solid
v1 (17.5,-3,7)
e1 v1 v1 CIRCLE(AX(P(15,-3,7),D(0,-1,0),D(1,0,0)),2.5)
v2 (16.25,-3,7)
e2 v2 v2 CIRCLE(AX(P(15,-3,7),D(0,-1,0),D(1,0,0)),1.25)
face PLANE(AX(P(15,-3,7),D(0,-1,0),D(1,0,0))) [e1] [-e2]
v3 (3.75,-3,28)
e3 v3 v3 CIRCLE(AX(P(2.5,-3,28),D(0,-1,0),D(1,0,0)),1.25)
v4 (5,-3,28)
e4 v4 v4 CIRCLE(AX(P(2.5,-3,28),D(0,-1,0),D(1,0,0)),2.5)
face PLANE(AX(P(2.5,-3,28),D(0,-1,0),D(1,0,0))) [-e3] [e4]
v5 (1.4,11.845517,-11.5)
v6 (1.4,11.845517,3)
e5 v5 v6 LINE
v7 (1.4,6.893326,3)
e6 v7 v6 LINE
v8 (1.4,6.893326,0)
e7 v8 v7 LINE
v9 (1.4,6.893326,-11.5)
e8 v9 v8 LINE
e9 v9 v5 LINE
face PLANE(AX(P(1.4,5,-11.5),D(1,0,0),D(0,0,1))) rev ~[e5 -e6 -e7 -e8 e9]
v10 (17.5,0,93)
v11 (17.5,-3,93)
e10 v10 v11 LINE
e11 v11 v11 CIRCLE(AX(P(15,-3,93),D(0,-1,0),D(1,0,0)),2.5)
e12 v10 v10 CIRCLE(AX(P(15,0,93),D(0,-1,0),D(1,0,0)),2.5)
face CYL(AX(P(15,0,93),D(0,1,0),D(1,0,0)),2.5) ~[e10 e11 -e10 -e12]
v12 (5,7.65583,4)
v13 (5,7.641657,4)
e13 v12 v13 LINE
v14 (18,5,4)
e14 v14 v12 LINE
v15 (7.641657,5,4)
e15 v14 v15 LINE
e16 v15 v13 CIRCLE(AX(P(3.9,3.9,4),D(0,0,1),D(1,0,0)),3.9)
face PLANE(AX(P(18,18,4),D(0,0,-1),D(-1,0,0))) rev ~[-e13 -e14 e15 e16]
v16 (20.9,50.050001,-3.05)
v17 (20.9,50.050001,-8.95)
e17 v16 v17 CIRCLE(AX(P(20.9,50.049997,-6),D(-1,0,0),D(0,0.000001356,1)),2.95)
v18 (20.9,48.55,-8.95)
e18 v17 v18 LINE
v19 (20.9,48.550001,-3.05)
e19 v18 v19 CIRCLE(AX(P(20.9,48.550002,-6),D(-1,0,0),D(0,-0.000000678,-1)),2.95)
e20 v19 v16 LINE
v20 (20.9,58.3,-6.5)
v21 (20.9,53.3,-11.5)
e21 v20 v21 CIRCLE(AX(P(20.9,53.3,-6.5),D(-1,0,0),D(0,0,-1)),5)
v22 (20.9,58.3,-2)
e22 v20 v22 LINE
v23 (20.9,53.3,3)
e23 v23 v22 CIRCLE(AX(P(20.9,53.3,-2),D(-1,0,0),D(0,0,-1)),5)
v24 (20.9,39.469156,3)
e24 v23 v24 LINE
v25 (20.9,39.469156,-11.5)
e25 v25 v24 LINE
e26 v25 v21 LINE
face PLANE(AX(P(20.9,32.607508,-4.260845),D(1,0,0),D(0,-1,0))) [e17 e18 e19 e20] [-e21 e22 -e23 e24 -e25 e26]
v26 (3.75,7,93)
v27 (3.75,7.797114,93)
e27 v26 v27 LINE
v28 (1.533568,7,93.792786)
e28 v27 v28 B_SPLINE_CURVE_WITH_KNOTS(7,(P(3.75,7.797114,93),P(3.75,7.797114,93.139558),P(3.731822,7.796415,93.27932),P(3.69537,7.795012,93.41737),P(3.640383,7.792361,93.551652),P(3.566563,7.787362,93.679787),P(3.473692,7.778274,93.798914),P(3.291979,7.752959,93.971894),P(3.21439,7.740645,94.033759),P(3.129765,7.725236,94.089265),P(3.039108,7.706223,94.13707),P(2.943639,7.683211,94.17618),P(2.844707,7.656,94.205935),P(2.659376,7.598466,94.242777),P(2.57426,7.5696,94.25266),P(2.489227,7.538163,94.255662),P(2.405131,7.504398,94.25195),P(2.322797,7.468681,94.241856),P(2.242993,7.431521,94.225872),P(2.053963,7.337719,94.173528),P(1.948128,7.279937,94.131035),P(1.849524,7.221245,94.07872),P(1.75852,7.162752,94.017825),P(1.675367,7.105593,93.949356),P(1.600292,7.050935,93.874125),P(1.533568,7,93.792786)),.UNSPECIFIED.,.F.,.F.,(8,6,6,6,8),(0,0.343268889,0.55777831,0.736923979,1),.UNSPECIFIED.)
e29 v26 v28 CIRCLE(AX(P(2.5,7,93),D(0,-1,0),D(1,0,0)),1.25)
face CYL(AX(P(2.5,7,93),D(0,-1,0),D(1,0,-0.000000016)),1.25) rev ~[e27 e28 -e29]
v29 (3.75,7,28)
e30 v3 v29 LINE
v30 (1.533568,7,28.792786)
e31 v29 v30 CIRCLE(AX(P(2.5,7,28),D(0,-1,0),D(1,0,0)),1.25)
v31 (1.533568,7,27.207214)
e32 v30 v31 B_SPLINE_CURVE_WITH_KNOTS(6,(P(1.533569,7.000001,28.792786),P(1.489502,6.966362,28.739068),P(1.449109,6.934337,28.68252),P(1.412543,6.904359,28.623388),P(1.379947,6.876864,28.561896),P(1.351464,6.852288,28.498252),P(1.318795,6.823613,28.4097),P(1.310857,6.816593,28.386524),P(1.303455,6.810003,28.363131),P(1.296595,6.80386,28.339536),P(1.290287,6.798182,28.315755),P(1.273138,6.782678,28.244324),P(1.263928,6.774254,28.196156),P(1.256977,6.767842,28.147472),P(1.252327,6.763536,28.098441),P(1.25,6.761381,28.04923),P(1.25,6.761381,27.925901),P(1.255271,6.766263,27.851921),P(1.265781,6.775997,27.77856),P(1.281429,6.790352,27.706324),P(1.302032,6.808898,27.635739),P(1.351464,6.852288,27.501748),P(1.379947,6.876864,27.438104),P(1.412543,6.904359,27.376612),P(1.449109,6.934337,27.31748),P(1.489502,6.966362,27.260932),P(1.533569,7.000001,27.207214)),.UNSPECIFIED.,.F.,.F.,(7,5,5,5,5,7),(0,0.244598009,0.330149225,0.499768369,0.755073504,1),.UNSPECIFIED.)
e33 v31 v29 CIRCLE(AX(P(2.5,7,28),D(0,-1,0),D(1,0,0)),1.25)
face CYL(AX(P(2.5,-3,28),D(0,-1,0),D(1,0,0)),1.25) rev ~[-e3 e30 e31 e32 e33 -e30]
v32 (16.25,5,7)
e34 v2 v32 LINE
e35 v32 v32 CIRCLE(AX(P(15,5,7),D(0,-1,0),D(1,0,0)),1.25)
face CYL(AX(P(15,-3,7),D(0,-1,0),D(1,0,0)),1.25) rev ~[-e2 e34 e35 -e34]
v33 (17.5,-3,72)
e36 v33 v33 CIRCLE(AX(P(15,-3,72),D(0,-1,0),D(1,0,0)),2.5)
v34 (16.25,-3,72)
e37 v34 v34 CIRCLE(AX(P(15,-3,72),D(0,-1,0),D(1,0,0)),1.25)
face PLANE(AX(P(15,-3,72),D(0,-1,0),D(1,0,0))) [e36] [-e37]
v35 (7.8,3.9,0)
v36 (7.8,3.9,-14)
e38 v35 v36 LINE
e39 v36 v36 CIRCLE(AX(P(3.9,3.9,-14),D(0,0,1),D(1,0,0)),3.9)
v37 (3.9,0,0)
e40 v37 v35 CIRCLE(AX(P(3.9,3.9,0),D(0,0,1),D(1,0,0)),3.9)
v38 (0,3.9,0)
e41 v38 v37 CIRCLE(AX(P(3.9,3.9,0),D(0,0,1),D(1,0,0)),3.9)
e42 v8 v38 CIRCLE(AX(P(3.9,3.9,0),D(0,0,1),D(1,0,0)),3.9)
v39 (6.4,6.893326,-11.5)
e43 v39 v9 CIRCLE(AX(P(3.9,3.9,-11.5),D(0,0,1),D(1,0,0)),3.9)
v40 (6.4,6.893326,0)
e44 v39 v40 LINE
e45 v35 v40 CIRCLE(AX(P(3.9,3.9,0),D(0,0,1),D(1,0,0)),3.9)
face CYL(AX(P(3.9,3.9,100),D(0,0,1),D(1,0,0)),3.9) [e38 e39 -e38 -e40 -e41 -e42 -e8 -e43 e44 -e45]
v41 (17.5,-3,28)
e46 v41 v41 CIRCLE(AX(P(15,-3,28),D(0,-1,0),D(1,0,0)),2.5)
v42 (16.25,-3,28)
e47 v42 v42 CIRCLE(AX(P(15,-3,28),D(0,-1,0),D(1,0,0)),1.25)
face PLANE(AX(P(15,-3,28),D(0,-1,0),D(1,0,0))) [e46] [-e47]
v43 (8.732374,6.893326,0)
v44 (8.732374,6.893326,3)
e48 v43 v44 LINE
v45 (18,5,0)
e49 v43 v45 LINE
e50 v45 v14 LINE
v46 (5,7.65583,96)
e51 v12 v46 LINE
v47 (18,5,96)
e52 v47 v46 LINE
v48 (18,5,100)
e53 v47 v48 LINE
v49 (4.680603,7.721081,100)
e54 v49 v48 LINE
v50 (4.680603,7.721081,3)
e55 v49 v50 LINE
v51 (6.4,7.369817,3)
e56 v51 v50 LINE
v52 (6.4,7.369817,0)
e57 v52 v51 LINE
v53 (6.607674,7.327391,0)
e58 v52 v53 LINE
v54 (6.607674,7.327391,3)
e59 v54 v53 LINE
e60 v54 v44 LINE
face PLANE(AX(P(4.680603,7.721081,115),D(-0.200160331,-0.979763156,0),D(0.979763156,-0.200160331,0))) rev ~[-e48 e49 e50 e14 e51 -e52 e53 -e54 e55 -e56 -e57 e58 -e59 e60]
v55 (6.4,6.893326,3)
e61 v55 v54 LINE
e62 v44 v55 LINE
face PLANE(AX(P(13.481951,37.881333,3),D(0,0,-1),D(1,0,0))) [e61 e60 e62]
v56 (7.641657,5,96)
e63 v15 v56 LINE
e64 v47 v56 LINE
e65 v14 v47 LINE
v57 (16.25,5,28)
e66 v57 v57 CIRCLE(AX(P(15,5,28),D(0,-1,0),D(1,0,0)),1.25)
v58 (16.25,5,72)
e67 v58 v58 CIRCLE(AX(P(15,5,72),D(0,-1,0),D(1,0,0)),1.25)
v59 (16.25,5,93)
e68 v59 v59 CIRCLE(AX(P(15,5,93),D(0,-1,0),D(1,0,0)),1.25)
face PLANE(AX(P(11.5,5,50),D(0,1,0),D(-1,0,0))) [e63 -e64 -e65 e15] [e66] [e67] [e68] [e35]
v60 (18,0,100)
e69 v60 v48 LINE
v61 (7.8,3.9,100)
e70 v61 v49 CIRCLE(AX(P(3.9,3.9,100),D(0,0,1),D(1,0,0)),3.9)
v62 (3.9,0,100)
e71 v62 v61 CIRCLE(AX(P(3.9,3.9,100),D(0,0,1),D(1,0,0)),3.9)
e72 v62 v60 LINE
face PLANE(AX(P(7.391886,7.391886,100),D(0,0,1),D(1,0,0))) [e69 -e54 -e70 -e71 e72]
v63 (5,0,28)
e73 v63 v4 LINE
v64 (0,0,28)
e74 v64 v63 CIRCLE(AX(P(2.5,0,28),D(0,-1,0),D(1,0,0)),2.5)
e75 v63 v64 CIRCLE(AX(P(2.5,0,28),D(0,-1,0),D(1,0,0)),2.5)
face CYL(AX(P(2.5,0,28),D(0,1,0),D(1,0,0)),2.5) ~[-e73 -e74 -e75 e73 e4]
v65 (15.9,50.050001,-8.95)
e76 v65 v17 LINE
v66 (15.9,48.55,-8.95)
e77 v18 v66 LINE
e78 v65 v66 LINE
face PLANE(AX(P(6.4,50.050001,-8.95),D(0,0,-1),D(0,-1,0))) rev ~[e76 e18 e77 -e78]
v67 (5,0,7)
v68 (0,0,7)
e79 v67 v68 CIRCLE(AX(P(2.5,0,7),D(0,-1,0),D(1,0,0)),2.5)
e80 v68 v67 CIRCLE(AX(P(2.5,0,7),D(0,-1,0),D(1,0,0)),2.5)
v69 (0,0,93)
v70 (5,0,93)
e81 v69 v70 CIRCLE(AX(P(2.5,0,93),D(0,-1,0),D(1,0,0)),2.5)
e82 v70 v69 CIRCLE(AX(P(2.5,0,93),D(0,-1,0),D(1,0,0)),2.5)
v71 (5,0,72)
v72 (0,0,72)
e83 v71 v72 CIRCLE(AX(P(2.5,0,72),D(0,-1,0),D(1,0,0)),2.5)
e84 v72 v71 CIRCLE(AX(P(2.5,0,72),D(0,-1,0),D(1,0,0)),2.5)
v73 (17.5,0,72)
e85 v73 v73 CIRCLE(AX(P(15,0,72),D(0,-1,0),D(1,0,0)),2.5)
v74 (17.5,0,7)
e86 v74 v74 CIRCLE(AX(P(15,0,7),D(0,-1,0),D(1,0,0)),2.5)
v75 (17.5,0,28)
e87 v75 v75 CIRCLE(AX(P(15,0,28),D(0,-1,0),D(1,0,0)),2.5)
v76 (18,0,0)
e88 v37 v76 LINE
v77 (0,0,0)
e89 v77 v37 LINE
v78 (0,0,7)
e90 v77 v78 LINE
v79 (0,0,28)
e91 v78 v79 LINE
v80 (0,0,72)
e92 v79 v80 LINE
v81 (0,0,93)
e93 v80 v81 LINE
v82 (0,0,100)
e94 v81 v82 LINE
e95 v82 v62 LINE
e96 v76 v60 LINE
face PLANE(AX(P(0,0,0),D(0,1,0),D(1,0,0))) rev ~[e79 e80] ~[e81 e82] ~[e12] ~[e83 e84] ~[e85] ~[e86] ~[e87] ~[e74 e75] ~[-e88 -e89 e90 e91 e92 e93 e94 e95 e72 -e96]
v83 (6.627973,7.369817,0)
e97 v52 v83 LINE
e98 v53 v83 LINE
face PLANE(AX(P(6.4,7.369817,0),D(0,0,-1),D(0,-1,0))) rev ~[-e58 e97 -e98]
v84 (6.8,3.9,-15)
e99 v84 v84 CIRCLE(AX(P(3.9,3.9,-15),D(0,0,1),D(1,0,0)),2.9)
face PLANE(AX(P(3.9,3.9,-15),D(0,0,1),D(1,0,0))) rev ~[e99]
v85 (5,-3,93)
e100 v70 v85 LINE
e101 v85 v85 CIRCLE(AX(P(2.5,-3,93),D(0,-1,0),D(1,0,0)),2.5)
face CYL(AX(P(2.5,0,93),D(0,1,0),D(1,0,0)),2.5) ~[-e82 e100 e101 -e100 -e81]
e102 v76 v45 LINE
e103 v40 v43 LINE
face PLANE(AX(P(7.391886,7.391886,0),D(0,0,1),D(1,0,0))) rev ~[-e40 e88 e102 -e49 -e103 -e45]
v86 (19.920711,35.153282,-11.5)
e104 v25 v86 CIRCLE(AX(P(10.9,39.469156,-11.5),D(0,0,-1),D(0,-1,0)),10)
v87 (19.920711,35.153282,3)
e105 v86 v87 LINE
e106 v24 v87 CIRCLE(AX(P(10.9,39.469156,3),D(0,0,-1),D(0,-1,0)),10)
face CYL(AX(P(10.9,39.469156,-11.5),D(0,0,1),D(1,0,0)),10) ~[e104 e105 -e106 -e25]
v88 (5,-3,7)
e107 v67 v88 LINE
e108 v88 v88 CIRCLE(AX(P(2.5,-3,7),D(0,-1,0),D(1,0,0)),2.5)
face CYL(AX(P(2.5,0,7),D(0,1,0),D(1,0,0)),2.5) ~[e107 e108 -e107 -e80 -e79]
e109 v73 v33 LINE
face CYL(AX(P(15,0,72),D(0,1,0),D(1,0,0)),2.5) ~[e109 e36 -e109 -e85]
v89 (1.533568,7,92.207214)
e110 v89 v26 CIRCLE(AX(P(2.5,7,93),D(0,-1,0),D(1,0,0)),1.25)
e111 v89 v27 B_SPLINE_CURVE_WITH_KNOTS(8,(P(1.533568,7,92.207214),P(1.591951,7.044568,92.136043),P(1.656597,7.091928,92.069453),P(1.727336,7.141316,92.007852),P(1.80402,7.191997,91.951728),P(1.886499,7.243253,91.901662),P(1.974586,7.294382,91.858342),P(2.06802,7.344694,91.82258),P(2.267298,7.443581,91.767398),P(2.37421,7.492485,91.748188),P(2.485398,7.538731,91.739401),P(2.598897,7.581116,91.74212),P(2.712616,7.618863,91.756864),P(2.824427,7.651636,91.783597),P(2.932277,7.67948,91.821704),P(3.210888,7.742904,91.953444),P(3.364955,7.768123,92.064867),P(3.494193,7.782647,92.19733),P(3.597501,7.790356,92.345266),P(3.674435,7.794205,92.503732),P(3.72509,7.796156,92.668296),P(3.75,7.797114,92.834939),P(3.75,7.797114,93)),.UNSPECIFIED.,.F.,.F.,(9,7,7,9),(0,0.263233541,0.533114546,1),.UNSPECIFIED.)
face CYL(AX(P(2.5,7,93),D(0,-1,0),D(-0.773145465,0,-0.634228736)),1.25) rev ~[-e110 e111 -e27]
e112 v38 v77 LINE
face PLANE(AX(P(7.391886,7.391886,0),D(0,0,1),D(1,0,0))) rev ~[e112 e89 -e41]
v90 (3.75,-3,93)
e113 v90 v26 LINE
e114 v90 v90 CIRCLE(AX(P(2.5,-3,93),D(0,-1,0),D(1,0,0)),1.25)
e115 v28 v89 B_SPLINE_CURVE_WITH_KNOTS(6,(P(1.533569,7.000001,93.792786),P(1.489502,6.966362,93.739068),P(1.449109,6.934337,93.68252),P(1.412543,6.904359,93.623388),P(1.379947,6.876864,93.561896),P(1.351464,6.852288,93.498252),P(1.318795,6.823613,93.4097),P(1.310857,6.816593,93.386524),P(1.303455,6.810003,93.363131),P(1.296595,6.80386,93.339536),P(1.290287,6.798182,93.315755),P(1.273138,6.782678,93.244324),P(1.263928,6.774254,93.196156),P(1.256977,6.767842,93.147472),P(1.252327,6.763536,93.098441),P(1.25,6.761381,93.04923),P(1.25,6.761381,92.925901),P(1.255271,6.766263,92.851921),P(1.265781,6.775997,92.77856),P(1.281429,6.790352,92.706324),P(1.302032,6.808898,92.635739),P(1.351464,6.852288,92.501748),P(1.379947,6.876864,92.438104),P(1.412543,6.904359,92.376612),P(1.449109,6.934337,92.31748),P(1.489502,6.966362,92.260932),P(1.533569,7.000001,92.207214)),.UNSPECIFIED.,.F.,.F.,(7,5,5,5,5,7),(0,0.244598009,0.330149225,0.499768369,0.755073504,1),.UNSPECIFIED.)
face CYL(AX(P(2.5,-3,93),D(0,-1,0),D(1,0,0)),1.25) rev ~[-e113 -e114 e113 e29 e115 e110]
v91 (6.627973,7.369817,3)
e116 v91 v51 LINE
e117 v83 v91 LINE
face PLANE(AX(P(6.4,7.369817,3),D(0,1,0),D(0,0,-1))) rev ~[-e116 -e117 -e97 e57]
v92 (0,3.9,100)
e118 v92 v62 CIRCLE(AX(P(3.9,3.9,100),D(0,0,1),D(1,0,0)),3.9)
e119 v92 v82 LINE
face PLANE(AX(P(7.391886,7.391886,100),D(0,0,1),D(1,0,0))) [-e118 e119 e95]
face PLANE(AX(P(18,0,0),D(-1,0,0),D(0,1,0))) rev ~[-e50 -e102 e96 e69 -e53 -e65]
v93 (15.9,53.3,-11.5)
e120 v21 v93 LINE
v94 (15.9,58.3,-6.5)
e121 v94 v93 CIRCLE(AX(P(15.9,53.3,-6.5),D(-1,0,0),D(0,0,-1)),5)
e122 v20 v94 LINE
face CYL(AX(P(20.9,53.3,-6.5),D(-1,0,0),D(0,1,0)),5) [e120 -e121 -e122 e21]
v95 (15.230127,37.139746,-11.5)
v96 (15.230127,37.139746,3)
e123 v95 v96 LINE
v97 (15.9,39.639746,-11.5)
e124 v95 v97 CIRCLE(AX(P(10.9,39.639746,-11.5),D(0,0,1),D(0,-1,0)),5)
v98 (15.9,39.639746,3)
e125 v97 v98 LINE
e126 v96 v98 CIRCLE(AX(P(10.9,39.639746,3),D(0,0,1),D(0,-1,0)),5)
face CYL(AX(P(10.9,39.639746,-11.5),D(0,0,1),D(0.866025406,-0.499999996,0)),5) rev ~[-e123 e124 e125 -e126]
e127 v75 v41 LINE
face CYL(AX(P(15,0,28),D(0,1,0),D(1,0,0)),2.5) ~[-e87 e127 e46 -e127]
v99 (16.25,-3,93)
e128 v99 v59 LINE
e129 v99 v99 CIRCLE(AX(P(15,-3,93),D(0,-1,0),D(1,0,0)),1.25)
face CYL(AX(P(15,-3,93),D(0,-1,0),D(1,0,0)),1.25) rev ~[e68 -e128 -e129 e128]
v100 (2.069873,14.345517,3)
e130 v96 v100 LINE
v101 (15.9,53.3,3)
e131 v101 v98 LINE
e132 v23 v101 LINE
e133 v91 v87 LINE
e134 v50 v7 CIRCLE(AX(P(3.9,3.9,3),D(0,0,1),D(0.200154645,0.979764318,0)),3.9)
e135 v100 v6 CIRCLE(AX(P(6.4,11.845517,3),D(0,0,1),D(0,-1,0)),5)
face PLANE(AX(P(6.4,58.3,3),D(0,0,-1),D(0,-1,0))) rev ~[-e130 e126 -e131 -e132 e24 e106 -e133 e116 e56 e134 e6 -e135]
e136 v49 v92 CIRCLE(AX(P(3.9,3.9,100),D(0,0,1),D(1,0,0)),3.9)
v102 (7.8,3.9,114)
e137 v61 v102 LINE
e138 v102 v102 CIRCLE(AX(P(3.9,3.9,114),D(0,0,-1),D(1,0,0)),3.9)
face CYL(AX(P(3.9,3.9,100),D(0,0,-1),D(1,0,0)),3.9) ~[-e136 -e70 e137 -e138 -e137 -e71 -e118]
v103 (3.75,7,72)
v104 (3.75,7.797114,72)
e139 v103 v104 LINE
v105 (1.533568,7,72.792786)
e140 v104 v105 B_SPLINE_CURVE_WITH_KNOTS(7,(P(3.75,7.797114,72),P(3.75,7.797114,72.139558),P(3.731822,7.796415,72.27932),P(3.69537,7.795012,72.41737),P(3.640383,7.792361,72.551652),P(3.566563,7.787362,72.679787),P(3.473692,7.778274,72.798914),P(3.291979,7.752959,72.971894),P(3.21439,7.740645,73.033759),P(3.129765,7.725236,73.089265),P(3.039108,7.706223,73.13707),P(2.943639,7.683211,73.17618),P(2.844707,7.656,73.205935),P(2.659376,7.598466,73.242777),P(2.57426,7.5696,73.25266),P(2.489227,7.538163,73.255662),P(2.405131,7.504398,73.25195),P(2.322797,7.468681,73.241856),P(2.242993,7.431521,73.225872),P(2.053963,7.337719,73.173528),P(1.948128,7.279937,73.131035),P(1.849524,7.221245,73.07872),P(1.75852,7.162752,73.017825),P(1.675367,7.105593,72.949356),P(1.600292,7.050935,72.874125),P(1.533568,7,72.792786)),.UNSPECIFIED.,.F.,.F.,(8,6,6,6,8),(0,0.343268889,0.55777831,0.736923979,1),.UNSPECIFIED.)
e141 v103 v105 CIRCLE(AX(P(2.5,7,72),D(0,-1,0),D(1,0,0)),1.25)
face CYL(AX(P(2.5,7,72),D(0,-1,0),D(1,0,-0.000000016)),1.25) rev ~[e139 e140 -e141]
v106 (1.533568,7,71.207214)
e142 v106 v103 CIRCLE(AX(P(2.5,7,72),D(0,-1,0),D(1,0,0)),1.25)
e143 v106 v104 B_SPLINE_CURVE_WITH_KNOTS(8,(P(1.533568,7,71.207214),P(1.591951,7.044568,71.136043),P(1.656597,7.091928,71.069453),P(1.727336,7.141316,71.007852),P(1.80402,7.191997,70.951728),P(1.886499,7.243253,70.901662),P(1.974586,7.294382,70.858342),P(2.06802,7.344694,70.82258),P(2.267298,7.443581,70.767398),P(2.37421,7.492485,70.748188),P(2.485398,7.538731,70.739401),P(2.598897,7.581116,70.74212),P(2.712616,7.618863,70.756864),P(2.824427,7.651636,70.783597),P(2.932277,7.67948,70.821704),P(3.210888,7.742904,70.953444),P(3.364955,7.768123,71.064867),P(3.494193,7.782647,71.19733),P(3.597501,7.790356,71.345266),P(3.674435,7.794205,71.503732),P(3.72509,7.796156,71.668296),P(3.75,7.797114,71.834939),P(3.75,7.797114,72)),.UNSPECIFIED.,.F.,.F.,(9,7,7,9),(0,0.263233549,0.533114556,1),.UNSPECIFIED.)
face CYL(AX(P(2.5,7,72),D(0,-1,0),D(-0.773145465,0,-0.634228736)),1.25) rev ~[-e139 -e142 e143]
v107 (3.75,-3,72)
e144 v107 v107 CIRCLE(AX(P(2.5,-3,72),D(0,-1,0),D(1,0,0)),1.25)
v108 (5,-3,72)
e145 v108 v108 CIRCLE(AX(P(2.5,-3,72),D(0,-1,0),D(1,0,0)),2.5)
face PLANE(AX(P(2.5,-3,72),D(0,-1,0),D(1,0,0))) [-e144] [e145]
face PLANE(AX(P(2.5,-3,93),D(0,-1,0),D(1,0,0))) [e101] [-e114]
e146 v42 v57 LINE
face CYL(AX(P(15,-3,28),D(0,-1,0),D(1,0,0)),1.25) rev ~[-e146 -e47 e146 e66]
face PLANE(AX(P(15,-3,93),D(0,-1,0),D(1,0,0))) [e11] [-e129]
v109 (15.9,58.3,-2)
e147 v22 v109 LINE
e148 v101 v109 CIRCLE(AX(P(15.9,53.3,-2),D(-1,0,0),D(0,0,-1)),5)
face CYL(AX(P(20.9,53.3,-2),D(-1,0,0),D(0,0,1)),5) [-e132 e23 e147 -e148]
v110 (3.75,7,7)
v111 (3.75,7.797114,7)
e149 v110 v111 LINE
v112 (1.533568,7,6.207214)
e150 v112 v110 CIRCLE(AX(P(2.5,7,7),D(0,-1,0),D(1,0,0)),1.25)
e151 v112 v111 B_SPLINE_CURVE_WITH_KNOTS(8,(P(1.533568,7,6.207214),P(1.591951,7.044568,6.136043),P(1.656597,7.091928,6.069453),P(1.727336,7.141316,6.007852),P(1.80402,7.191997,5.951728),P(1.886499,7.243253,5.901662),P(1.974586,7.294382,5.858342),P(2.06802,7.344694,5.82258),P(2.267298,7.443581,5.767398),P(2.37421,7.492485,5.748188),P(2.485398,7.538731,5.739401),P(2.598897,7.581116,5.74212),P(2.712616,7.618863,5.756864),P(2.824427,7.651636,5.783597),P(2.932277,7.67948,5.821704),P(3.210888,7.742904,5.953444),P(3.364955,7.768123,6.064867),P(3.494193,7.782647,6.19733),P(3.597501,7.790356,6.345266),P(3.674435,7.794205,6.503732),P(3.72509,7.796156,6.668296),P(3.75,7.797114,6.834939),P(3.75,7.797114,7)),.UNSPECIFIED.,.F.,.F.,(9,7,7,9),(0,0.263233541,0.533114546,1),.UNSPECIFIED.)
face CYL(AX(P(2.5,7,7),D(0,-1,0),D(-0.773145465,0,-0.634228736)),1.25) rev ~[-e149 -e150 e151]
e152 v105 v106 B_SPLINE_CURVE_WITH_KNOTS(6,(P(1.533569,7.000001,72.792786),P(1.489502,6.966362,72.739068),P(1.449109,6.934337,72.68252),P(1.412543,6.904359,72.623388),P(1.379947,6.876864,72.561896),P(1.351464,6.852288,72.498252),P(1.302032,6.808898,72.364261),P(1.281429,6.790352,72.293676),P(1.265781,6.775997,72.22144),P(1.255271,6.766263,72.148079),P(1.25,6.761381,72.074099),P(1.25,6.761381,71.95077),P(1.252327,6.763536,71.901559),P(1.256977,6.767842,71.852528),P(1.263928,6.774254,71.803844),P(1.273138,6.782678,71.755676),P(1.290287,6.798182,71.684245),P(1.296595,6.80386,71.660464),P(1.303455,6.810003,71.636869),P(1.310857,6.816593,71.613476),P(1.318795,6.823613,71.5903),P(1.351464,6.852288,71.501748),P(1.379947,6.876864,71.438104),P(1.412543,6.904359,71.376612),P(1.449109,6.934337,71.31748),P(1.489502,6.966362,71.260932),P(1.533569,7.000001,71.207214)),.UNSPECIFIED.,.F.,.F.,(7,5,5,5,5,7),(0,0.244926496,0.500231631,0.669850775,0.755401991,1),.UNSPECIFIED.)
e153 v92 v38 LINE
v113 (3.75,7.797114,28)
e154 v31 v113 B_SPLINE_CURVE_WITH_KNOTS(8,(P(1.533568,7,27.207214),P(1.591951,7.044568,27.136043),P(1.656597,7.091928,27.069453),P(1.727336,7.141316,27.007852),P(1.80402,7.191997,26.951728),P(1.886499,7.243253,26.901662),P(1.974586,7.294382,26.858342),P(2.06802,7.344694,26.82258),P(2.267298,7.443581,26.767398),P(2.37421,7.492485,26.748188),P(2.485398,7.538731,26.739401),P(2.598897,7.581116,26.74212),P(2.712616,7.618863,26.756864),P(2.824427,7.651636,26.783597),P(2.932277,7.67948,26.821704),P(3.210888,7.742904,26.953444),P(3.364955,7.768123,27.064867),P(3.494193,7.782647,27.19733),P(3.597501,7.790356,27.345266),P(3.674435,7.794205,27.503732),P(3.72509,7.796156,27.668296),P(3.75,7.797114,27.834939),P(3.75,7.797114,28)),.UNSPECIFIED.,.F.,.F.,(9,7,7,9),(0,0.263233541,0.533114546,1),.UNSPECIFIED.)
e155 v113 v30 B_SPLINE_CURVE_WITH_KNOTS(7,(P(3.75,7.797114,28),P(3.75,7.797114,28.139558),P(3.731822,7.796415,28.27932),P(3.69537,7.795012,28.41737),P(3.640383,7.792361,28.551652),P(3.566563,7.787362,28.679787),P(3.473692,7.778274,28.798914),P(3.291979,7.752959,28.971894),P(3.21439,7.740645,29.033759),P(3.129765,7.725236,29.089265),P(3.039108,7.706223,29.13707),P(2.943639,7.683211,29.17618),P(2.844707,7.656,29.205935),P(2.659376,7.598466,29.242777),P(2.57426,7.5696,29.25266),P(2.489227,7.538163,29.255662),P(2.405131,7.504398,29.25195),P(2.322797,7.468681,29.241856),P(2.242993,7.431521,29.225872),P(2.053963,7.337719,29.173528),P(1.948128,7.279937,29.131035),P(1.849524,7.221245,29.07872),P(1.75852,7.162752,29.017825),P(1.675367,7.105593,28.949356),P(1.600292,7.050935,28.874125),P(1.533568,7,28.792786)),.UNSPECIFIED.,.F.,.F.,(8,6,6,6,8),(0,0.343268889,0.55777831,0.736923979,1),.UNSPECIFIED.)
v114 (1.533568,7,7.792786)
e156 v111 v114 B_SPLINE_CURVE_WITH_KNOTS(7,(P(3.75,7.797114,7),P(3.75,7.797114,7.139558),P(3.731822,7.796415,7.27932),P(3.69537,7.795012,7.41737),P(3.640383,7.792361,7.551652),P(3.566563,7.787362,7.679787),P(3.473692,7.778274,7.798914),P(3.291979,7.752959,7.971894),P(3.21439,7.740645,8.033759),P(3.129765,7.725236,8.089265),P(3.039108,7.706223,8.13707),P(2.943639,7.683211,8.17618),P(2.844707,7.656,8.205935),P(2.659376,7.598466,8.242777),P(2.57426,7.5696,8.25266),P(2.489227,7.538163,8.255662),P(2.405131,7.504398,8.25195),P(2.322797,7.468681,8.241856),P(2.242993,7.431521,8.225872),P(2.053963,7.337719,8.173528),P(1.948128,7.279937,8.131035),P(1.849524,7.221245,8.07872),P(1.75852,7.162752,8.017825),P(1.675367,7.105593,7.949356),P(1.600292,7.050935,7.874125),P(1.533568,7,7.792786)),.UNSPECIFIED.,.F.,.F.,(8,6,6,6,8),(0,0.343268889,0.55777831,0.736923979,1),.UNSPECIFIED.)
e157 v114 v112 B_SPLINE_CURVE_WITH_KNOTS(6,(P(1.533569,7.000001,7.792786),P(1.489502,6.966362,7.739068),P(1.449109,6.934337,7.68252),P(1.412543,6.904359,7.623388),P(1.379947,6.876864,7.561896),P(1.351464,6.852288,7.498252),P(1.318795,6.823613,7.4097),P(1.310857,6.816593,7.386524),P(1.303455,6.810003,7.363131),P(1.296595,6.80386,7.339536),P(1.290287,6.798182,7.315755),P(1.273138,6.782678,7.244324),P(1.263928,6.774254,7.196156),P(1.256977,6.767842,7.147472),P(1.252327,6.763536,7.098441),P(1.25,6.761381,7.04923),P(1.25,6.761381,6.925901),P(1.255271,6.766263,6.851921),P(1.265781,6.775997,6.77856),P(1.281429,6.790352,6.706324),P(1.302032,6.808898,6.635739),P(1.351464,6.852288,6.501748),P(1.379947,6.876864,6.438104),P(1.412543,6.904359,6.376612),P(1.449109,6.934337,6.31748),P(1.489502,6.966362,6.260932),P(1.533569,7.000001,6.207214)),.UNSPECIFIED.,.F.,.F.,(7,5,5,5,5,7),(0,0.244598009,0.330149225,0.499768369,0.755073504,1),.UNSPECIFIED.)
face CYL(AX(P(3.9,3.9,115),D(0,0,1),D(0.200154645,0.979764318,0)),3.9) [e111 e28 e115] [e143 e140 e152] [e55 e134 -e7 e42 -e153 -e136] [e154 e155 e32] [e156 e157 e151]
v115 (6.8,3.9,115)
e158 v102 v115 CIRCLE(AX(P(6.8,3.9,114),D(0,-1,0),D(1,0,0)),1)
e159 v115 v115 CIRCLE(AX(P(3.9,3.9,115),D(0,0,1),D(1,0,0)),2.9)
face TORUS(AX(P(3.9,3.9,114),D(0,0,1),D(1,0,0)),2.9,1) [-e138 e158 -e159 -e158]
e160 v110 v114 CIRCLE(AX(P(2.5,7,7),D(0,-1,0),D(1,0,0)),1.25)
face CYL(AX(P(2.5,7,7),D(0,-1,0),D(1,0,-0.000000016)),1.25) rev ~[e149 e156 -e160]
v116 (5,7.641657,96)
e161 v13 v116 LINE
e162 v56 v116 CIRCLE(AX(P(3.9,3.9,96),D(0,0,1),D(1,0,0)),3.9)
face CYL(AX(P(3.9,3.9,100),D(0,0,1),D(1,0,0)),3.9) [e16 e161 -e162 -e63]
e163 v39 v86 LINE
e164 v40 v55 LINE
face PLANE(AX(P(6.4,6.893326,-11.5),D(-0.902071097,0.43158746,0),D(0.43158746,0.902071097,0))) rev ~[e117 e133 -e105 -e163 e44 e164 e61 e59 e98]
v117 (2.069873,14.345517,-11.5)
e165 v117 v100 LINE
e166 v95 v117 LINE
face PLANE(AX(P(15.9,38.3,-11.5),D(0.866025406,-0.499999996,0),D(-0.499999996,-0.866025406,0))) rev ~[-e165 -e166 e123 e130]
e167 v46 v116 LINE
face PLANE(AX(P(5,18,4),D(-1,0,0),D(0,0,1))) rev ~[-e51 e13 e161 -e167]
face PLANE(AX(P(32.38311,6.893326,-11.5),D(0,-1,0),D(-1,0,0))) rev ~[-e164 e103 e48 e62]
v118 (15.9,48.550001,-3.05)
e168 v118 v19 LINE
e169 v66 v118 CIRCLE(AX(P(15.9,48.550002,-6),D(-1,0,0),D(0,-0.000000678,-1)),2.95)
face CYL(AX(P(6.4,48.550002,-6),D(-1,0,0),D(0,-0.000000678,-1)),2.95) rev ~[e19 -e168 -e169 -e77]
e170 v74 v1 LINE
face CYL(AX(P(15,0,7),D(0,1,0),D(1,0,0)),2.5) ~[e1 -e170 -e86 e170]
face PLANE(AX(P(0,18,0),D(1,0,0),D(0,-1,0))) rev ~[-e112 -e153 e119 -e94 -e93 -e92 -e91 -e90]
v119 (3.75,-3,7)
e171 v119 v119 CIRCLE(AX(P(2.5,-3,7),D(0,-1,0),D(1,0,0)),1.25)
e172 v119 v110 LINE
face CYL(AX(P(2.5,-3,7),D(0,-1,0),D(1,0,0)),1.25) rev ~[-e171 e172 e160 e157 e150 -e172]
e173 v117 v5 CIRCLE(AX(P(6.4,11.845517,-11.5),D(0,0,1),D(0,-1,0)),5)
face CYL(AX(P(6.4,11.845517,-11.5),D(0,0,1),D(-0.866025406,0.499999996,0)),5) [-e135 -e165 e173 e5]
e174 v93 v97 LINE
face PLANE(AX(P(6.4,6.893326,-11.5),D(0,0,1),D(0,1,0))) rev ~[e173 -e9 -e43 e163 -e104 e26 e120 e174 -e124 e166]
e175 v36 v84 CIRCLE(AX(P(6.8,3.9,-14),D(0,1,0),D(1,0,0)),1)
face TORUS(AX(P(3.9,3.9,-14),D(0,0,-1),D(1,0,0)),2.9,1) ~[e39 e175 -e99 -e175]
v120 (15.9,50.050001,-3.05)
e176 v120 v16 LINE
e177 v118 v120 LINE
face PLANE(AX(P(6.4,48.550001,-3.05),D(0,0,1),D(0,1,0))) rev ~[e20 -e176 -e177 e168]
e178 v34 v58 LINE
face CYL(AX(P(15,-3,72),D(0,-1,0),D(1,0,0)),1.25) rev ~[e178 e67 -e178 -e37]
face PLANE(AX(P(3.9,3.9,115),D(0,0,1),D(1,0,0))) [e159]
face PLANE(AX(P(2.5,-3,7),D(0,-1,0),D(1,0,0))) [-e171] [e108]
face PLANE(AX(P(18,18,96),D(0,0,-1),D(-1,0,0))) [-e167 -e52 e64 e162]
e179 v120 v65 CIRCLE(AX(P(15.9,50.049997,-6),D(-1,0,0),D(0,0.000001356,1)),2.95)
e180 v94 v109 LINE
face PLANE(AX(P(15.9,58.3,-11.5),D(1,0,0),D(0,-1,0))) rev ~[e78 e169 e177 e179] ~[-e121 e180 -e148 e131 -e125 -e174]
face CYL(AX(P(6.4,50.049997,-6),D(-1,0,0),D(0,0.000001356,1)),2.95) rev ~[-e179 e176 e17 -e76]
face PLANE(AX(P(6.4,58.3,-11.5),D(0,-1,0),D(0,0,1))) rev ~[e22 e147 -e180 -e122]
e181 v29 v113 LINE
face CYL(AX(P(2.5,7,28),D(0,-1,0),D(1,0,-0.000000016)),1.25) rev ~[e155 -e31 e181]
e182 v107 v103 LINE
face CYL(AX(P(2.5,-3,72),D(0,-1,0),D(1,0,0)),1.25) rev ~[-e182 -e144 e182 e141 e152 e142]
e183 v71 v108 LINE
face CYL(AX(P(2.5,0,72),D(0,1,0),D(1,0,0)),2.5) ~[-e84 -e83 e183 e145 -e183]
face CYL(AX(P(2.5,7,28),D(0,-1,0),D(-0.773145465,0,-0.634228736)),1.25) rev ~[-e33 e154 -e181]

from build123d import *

# Parameters (mm, degrees)
PAD_DEPTH         = 100
SKETCH001_W       = 13
SKETCH001_H       = 92
POCKET_DEPTH      = 13
SKETCH002_R       = 3.9
PAD001_DEPTH      = 15
PAD001_DEPTH_BACK = 115
FILLET_R          = 1
SKETCH003_R       = 2.5
PAD002_DEPTH      = 3
SKETCH004_R       = 1.25
POCKET001_DEPTH   = 10
POCKET002_DEPTH   = 130.001
POCKET003_DEPTH   = 0.801
POCKET004_DEPTH   = 0.801
POCKET005_DEPTH   = 0.801
POCKET006_DEPTH   = 0.801
SKETCH006_W       = 5
SKETCH006_H       = 14.5
PAD003_DEPTH      = 53.3
POCKET007_DEPTH   = 6.401
PAD004_DEPTH      = 14.5
POCKET008_DEPTH   = 14.5
FILLET001_R       = 5
FILLET002_R       = 5
FILLET003_R       = 10
FILLET004_R       = 5


with BuildPart() as part:
    # Sketch → Pad (new body)
    with BuildSketch(Plane.XY):
        Polygon((0, 0), (18, 0), (18, 5), (5, 18), (0, 18), align=None)
    extrude(amount=PAD_DEPTH)

    # Sketch001 (on Face4 of Pad) → Pocket (cut)
    with BuildSketch(Plane(origin=(0, 18, 0), x_dir=(-1, 0, 0), z_dir=(0, 1, 0))):
        with Locations((-11.5, 50)):
            Rectangle(SKETCH001_W, SKETCH001_H)
    extrude(amount=-POCKET_DEPTH, mode=Mode.SUBTRACT)

    # Sketch002 (on Face5 of Pocket) → Pad001 (join, two sides)
    with BuildSketch(Plane.XY.offset(100)) as pad001_sk:
        with Locations((3.9, 3.9)):
            Circle(SKETCH002_R)
    extrude(amount=PAD001_DEPTH)
    extrude(pad001_sk.sketch, amount=-PAD001_DEPTH_BACK)

    # Fillet
    fillet_edges = [part.edges().sort_by_distance(p)[0] for p in [
        (0, 3.9, 115),
        (0, 3.9, -15),
    ]]
    fillet(fillet_edges, radius=FILLET_R)

    # Sketch003 (on Face10 of Fillet) → Pad002 (join)
    with BuildSketch(Plane.XZ):
        with Locations((2.5, 93)):
            Circle(SKETCH003_R)
        with Locations((15, 93)):
            Circle(SKETCH003_R)
        with Locations((15, 72)):
            Circle(SKETCH003_R)
        with Locations((2.5, 72)):
            Circle(SKETCH003_R)
        with Locations((15, 7)):
            Circle(SKETCH003_R)
        with Locations((15, 28)):
            Circle(SKETCH003_R)
        with Locations((2.5, 7)):
            Circle(SKETCH003_R)
        with Locations((2.5, 28)):
            Circle(SKETCH003_R)
    extrude(amount=PAD002_DEPTH)

    # Sketch004 (on Face37 of Pad002) → Pocket001 (cut)
    with BuildSketch(Plane.XZ.offset(3)):
        with Locations((2.5, 93)):
            Circle(SKETCH004_R)
        with Locations((15, 93)):
            Circle(SKETCH004_R)
        with Locations((2.5, 72)):
            Circle(SKETCH004_R)
        with Locations((15, 72)):
            Circle(SKETCH004_R)
        with Locations((15, 28)):
            Circle(SKETCH004_R)
        with Locations((2.5, 28)):
            Circle(SKETCH004_R)
        with Locations((15, 7)):
            Circle(SKETCH004_R)
        with Locations((2.5, 7)):
            Circle(SKETCH004_R)
    extrude(amount=-POCKET001_DEPTH, mode=Mode.SUBTRACT)

    # Sketch005 (on Face51 of Pocket001) → Pocket002 (cut, through all)
    with BuildSketch(Plane.XY.offset(115)):
        with BuildLine():
            Line((4.680603, 7.721081), (18, 5))
            Line((18, 5), (18, 20))
            Line((-5, 20), (18, 20))
            Line((-5, 3.9), (-5, 20))
            Line((0, 3.9), (-5, 3.9))
            ThreePointArc((4.680603, 7.721081), (1.433662, 6.921122), (0, 3.9))
        make_face()
    extrude(amount=-POCKET002_DEPTH, mode=Mode.SUBTRACT)

    # Pocket002 Face15 → Pocket003 (cut, through all)
    with BuildSketch(Plane(origin=(2.572191, 7, 93), x_dir=(-1, 0, 0), z_dir=(0, -1, 0))):
        with BuildLine():
            ThreePointArc((1.038623, 0.792786), (-0.348796, 1.176975), (-1.177809, 0))
            ThreePointArc((-1.177809, 0), (-0.348796, -1.176975), (1.038623, -0.792786))
            Line((1.038623, -0.792786), (1.038623, 0.792786))
        make_face()
    extrude(amount=-POCKET003_DEPTH, mode=Mode.SUBTRACT)

    # Pocket003 Face15 → Pocket004 (cut, through all)
    with BuildSketch(Plane(origin=(2.572191, 7, 72), x_dir=(-1, 0, 0), z_dir=(0, -1, 0))):
        with BuildLine():
            ThreePointArc((1.038623, 0.792786), (-0.348796, 1.176975), (-1.177809, 0))
            ThreePointArc((-1.177809, 0), (-0.348796, -1.176975), (1.038623, -0.792786))
            Line((1.038623, -0.792786), (1.038623, 0.792786))
        make_face()
    extrude(amount=-POCKET004_DEPTH, mode=Mode.SUBTRACT)

    # Pocket004 Face21 → Pocket005 (cut, through all)
    with BuildSketch(Plane(origin=(2.572191, 7, 7), x_dir=(-1, 0, 0), z_dir=(0, -1, 0))):
        with BuildLine():
            ThreePointArc((1.038623, 0.792786), (-0.348796, 1.176975), (-1.177809, 0))
            ThreePointArc((-1.177809, 0), (-0.348796, -1.176975), (1.038623, -0.792786))
            Line((1.038623, -0.792786), (1.038623, 0.792786))
        make_face()
    extrude(amount=-POCKET005_DEPTH, mode=Mode.SUBTRACT)

    # Pocket005 Face24 → Pocket006 (cut, through all)
    with BuildSketch(Plane(origin=(2.572191, 7, 28), x_dir=(-1, 0, 0), z_dir=(0, -1, 0))):
        with BuildLine():
            ThreePointArc((1.038623, 0.792786), (-0.348796, 1.176975), (-1.177809, 0))
            ThreePointArc((-1.177809, 0), (-0.348796, -1.176975), (1.038623, -0.792786))
            Line((1.038623, -0.792786), (1.038623, 0.792786))
        make_face()
    extrude(amount=-POCKET006_DEPTH, mode=Mode.SUBTRACT)

    # Sketch006 (on Face30 of Pocket006) → Pad003 (join)
    with BuildSketch(Plane(origin=(0, 5, 0), x_dir=(-1, 0, 0), z_dir=(0, 1, 0))):
        with Locations((-3.9, -4.25)):
            Rectangle(SKETCH006_W, SKETCH006_H)
    extrude(amount=PAD003_DEPTH)

    # Sketch007 (on Face11 of Pad003) → Pocket007 (cut, through all)
    with BuildSketch(Plane.YZ.offset(6.4)):
        with BuildLine():
            Line((48.550002, -3.05), (50.050002, -3.05))
            ThreePointArc((50.050002, -8.95), (52.999998, -6), (50.050002, -3.05))
            Line((48.55, -8.95), (50.050002, -8.95))
            ThreePointArc((48.550002, -3.05), (45.600002, -5.999999), (48.55, -8.95))
        make_face()
    extrude(amount=-POCKET007_DEPTH, mode=Mode.SUBTRACT)

    # Pocket007 Face11 → Pad004 (add)
    with BuildSketch(Plane(origin=(6.4, 31.794028, -4.172133), x_dir=(0, -1, 0), z_dir=(1, 0, 0))):
        Polygon((24.424211, -7.172133), (24.424211, -4.172133), (24.900702, -4.172133), (24.900702, 7.327867), (-26.505972, 7.327867), (-26.505972, -7.172133), align=None)
        with BuildLine():
            Line((-16.755973, -1.122133), (-18.255973, -1.122133))
            ThreePointArc((-18.255973, -1.122133), (-21.205969, 1.827867), (-18.255973, 4.777867))
            Line((-18.255973, 4.777867), (-16.755972, 4.777867))
            ThreePointArc((-16.755972, 4.777867), (-13.805974, 1.827866), (-16.755973, -1.122133))
        make_face(mode=Mode.SUBTRACT)
    extrude(amount=PAD004_DEPTH)

    # Sketch008 (on Face18 of Pad004) → Pocket008 (cut)
    with BuildSketch(Plane(origin=(0, 0, -11.5), x_dir=(1, 0, 0), z_dir=(0, 0, -1))):
        Polygon((15.9, -58.3), (15.9, -38.3), (1.4, -13.185263), (-8.6, -13.185263), (-8.6, -68.3), (32.38311, -68.3), (32.38311, -6.893326), (6.4, -6.893326), (22.38311, -40.3), (22.38311, -58.3), align=None)
    extrude(amount=-POCKET008_DEPTH, mode=Mode.SUBTRACT)

    # Fillet001
    fillet001_edges = [part.edges().sort_by_distance(p)[0] for p in [
        (1.4, 13.185263, -4.25),
    ]]
    fillet(fillet001_edges, radius=FILLET001_R)

    # Fillet002
    fillet002_edges = [part.edges().sort_by_distance(p)[0] for p in [
        (15.9, 38.3, -4.25),
    ]]
    fillet(fillet002_edges, radius=FILLET002_R)

    # Fillet003
    fillet003_edges = [part.edges().sort_by_distance(p)[0] for p in [
        (20.9, 37.200117, -4.25),
    ]]
    fillet(fillet003_edges, radius=FILLET003_R)

    # Fillet004
    fillet004_edges = [part.edges().sort_by_distance(p)[0] for p in [
        (18.4, 58.3, -11.5),
        (18.4, 58.3, 3),
    ]]
    fillet(fillet004_edges, radius=FILLET004_R)


solid = part.part
